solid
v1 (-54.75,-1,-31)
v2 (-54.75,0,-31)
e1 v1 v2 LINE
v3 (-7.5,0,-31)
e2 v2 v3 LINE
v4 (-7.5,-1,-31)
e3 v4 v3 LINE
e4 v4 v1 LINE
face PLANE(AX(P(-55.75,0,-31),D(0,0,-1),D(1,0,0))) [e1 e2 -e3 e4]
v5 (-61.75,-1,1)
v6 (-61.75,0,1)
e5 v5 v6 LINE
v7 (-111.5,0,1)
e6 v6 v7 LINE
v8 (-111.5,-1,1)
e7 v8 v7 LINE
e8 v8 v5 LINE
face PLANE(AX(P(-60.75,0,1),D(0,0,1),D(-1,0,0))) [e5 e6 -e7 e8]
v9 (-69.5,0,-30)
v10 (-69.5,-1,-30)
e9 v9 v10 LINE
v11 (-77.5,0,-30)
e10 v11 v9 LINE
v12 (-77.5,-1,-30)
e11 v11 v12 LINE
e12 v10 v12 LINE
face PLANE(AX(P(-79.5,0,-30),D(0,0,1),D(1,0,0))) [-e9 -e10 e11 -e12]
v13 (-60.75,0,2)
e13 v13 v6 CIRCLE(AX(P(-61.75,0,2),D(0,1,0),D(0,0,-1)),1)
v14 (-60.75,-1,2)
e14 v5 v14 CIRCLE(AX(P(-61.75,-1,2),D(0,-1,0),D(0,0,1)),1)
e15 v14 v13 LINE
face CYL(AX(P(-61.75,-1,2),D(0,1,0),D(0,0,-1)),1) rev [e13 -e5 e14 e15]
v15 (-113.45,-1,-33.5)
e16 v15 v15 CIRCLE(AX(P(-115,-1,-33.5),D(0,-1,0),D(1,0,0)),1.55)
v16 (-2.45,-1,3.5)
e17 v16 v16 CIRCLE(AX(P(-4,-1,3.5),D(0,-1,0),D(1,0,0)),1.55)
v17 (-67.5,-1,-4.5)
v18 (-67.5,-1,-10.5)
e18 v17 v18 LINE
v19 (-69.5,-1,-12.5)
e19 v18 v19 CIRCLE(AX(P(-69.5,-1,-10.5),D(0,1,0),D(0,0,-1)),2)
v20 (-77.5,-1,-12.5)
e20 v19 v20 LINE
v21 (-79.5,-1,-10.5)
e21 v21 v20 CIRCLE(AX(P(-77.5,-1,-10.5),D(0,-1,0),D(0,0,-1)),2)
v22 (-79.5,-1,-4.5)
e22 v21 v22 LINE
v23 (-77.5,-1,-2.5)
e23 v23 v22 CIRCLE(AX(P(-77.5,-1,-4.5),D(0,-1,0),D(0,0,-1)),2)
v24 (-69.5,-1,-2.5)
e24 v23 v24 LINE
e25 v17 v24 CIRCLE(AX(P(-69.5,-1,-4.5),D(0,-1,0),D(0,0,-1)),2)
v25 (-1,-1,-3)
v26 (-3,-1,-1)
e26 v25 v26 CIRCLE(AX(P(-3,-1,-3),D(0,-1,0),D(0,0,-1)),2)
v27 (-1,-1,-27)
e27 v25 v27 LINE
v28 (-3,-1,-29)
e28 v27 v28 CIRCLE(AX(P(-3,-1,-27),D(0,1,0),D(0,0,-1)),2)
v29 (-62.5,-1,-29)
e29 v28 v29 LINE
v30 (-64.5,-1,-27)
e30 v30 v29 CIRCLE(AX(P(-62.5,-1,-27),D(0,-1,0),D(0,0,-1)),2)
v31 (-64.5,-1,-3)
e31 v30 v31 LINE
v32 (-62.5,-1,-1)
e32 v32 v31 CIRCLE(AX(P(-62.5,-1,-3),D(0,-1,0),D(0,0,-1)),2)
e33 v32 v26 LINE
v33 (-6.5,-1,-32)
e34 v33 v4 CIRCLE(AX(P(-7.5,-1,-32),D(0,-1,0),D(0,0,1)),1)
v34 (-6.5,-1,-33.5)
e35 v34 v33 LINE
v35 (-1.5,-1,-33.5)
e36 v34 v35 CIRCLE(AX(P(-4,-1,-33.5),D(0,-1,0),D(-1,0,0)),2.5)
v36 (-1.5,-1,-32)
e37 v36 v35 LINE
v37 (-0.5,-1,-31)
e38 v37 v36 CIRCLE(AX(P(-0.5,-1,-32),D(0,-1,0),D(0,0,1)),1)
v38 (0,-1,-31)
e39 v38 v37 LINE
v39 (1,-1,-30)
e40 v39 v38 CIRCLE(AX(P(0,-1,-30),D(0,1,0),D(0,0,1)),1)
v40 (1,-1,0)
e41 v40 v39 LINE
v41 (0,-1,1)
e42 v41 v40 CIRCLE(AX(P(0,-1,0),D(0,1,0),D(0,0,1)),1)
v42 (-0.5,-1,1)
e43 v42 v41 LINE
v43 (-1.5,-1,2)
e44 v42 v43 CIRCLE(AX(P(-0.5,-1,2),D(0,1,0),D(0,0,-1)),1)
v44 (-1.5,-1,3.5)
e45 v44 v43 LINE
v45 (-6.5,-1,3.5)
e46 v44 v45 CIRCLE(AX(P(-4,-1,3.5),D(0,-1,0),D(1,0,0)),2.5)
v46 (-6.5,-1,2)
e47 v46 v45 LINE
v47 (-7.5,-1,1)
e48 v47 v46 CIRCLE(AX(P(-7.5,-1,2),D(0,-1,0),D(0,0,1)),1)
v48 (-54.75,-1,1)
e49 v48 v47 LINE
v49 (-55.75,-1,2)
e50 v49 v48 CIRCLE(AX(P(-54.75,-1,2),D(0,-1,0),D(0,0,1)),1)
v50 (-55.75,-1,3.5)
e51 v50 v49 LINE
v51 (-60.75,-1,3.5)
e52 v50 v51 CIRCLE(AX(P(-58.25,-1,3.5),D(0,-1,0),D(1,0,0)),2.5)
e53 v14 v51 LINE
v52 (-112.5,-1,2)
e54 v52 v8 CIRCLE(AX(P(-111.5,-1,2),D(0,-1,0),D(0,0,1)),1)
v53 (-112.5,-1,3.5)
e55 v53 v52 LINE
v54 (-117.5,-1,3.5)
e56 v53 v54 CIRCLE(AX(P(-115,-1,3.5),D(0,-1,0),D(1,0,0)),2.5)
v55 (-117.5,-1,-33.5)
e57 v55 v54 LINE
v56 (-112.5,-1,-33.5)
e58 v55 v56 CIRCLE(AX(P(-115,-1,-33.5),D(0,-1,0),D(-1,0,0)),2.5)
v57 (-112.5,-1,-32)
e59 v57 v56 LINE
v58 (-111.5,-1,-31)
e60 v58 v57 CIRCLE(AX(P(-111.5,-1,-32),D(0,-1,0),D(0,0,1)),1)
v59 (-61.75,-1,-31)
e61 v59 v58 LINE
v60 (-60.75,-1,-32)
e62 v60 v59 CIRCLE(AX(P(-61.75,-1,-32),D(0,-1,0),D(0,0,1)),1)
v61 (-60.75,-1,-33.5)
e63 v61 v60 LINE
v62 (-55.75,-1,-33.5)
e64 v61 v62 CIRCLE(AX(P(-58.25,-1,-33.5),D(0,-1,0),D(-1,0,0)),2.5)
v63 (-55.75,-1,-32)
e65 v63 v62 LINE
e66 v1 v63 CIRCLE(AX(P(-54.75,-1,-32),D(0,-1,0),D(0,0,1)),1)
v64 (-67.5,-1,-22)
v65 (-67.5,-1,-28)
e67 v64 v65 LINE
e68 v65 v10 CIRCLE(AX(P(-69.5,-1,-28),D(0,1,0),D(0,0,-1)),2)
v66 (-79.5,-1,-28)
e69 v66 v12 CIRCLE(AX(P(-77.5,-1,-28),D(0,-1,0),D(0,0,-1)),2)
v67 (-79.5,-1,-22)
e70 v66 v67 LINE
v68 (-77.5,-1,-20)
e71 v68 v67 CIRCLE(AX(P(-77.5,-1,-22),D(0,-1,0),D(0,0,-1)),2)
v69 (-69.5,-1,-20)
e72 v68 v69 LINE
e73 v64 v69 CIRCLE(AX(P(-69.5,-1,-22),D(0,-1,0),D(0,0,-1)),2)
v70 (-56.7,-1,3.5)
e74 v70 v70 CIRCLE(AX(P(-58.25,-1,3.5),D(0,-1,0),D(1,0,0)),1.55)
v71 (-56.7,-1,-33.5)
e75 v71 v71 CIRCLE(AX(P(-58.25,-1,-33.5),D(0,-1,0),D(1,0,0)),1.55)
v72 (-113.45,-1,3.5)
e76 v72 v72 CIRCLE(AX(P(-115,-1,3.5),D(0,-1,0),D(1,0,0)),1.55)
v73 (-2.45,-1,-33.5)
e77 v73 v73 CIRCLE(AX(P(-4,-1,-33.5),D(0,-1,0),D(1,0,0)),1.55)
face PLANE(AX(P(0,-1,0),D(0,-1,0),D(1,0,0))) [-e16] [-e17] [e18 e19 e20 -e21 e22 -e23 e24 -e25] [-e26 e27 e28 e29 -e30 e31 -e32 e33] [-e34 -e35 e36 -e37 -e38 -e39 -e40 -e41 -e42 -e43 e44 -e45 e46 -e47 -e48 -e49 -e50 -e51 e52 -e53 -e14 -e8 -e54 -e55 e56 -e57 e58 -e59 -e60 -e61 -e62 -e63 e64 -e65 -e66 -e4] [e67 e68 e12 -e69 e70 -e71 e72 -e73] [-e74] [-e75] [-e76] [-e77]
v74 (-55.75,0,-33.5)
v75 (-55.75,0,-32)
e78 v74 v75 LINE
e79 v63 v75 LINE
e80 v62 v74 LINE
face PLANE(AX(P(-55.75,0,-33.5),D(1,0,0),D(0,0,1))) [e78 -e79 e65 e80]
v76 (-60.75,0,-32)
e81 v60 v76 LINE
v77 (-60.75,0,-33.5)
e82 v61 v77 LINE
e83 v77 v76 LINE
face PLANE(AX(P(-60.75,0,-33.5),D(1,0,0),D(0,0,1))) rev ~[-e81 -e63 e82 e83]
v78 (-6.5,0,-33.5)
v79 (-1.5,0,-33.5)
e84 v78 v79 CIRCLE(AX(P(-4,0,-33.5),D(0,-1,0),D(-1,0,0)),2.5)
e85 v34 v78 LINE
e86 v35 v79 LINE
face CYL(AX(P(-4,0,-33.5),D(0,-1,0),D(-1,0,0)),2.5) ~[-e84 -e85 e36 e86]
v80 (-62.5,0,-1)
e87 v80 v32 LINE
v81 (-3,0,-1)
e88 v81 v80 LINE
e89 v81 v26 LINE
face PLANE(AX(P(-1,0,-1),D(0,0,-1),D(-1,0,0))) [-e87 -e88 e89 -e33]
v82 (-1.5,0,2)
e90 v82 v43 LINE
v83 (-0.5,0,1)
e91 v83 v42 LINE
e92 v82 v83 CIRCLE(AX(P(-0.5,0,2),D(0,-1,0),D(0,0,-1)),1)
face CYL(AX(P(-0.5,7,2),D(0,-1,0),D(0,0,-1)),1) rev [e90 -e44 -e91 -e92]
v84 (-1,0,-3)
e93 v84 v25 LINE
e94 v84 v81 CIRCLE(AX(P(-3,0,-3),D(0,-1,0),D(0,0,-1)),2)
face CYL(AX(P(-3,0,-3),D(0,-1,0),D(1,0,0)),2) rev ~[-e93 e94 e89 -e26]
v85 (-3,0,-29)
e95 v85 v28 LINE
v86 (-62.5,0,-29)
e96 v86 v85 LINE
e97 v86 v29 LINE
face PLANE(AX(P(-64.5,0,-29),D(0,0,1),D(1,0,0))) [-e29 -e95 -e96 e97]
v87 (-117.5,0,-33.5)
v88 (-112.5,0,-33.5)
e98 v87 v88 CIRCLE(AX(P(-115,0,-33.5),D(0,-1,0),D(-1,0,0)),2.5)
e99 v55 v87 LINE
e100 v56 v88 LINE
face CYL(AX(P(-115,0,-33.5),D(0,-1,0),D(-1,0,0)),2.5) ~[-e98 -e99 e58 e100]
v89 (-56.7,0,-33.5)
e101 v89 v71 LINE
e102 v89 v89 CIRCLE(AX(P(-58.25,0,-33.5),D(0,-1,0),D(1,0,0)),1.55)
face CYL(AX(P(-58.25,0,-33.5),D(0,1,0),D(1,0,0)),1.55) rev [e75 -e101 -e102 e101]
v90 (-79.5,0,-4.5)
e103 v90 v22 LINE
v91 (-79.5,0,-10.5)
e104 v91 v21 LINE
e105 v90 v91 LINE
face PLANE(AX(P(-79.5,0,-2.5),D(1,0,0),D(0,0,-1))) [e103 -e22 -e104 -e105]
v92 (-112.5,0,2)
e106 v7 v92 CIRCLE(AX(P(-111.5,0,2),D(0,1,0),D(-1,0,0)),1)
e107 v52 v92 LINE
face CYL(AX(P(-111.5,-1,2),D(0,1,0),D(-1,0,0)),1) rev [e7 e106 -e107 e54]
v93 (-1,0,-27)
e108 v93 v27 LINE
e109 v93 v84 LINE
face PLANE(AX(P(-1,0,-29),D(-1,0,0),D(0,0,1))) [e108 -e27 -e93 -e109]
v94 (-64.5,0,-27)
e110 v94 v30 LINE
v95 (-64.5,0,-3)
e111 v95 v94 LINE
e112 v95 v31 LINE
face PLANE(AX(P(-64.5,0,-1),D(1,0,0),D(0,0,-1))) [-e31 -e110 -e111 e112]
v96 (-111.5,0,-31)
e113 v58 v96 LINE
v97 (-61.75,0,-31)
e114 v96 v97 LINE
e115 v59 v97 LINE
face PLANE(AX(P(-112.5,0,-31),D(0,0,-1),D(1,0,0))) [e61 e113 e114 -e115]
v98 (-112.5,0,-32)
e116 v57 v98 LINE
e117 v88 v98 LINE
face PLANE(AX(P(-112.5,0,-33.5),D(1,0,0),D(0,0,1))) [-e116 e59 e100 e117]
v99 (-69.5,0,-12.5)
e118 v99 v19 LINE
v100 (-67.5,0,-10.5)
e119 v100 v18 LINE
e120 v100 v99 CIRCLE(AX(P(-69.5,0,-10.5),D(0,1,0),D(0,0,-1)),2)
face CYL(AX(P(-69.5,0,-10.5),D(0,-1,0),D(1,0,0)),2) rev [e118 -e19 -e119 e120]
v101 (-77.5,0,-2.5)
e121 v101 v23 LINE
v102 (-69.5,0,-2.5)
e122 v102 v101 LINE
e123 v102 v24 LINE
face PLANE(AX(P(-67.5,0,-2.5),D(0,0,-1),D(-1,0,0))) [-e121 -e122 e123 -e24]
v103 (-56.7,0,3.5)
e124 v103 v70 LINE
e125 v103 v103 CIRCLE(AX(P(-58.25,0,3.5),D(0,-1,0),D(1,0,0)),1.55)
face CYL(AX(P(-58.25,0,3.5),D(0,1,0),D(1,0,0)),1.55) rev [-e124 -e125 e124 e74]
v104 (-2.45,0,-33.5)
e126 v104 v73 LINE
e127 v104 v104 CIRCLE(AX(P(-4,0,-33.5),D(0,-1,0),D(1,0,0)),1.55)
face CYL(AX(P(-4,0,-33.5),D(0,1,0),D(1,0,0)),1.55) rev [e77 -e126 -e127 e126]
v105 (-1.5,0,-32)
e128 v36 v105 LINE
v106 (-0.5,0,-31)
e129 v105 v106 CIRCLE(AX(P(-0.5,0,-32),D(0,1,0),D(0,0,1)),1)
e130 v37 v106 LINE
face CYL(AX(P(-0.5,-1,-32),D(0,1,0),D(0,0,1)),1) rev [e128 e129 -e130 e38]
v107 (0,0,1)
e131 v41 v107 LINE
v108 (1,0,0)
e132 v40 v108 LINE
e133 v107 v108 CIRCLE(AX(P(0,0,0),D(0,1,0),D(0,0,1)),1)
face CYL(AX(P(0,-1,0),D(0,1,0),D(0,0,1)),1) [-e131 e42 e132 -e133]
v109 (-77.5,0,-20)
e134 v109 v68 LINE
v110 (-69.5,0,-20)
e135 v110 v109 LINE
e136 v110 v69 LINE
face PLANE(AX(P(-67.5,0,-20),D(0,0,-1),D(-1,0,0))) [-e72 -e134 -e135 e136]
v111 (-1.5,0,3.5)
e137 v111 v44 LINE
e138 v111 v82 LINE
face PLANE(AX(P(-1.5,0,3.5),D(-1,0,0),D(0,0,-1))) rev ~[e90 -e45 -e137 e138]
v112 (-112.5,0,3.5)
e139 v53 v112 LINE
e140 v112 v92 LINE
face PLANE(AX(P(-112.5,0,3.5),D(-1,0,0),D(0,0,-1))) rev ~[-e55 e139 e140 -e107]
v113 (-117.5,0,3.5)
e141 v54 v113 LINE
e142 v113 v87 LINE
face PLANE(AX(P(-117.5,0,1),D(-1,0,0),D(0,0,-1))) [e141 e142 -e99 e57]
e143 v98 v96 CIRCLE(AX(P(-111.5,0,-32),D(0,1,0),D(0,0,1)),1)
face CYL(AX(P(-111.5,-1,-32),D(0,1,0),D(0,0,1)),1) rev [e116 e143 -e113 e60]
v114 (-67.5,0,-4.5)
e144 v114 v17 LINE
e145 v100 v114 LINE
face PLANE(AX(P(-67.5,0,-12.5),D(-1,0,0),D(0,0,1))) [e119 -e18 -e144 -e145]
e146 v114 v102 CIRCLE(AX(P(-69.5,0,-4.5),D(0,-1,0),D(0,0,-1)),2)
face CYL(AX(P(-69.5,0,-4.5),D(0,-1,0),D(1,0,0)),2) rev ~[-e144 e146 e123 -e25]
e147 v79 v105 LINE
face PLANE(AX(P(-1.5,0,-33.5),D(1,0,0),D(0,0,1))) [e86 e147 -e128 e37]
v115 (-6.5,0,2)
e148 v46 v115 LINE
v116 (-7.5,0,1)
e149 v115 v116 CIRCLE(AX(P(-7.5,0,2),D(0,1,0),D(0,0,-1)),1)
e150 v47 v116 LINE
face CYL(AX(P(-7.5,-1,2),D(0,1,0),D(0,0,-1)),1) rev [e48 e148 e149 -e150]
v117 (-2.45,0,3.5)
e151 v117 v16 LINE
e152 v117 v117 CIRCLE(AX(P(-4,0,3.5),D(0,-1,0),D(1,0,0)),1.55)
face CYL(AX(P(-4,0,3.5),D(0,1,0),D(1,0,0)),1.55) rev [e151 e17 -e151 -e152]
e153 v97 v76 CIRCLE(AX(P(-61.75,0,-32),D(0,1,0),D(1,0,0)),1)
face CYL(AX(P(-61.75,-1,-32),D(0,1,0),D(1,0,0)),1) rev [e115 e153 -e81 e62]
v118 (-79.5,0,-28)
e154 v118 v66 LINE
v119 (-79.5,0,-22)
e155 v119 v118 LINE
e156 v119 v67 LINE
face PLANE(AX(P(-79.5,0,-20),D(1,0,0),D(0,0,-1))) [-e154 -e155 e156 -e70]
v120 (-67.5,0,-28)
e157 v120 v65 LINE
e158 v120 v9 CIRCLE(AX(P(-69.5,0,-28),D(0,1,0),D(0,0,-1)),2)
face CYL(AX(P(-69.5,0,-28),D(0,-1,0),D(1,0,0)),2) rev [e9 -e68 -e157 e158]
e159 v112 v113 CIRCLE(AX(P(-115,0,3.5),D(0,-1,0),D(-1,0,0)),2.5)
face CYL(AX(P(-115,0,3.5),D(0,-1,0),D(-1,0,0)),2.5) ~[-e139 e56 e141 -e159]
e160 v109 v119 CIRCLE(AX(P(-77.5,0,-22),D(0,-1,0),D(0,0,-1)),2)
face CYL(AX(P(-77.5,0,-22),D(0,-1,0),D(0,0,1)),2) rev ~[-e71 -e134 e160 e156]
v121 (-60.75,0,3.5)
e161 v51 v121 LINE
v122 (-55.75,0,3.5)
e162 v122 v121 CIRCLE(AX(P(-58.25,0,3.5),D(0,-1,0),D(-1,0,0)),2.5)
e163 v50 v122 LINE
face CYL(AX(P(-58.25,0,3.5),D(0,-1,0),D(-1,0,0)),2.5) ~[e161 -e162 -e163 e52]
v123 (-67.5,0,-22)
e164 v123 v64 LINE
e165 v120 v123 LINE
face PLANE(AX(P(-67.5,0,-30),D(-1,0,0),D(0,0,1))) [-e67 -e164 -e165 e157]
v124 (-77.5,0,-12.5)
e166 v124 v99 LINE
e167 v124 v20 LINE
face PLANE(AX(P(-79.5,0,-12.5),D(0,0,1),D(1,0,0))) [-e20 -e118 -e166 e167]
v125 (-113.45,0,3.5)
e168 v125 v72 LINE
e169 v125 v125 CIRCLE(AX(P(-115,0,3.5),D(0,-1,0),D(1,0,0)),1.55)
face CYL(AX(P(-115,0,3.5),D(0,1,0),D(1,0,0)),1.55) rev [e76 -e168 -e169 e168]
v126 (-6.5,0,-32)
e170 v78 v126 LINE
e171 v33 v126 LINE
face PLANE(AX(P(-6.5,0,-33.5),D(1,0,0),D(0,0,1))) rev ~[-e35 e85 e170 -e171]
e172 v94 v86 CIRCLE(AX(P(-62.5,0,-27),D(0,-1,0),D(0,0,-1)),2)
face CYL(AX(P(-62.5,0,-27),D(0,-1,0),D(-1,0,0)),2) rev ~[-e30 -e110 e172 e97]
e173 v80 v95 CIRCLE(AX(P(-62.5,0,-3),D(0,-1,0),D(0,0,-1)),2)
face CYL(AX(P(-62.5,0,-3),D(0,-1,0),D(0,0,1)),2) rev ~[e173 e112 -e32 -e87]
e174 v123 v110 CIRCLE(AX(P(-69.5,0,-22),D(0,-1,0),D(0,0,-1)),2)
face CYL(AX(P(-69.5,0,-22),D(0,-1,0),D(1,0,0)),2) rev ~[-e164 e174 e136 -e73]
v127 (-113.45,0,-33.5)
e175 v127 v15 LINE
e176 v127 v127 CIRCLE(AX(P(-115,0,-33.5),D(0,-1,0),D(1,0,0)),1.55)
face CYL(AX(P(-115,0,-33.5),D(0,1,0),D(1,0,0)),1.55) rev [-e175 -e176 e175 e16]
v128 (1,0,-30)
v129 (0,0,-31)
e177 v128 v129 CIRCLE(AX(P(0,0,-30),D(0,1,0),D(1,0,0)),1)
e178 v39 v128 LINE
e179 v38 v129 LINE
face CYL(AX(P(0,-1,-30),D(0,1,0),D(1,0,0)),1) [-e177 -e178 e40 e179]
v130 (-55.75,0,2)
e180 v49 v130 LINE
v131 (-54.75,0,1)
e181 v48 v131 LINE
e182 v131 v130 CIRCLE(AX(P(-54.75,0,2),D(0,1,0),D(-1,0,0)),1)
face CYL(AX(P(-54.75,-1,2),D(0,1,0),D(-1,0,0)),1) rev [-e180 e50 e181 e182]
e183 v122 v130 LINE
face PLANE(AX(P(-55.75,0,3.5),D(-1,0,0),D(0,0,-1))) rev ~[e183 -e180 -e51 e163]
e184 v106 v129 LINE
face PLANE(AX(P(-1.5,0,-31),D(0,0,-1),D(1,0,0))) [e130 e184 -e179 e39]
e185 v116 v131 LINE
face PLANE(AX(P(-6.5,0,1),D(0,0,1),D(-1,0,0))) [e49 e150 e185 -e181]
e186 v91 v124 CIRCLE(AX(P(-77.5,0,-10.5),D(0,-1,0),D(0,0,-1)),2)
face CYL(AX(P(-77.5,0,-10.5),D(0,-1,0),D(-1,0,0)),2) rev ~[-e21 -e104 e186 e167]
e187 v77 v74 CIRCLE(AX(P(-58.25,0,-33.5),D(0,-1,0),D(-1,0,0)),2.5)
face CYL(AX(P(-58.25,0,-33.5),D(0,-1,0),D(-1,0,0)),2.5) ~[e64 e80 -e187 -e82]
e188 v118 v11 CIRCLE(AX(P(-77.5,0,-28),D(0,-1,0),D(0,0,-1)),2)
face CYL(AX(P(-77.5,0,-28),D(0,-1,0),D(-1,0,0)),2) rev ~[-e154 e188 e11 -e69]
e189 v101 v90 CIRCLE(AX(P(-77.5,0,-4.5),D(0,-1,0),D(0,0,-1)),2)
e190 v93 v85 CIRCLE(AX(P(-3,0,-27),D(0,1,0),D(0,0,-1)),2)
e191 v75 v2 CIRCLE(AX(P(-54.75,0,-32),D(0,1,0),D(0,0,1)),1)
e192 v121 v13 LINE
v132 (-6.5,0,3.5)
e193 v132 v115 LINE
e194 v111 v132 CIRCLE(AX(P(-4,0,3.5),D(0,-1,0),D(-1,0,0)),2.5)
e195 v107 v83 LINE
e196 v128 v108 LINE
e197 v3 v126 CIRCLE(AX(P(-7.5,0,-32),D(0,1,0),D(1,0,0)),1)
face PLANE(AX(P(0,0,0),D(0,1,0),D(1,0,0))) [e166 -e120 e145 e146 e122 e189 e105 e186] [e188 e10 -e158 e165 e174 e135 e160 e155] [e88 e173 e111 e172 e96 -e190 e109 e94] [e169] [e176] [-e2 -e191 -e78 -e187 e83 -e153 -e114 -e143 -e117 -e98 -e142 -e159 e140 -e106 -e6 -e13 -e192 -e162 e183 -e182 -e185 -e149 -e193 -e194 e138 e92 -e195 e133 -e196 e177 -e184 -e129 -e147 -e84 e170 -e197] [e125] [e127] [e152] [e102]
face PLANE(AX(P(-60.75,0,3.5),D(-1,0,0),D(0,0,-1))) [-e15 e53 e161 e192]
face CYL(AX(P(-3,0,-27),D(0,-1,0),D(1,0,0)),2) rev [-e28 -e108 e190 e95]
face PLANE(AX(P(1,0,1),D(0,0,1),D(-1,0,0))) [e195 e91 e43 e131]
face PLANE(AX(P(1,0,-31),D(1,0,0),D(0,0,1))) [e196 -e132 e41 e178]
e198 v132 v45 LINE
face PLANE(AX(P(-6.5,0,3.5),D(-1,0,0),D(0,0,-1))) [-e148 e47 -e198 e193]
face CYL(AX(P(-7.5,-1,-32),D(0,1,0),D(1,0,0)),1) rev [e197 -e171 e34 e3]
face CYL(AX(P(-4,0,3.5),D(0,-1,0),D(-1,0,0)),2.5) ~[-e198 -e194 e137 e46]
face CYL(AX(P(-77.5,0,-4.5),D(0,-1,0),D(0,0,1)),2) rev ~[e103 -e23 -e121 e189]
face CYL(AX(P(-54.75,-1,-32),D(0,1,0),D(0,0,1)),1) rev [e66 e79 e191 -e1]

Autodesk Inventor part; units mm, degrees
ref_plane "YZ Plane" through (0, 0, 0) normal (1, 0, 0) x (0, 1, 0)
ref_plane "XZ Plane" through (0, 0, 0) normal (0, 1, 0) x (-1, 0, 0)
ref_plane "XY Plane" through (0, 0, 0) normal (0, 0, 1) x (1, 0, 0)
sketch "Sketch1" plane through (0, 0, 0) normal (0, 1, 0) x (-1, 0, 0)
  line L0 (0, 0) -> (37, 0) construction
  line L1 (37, 0) -> (37, -30) construction
  line L2 (37, -30) -> (0, -30) construction
  line L3 (0, -30) -> (0, 0) construction
  line L4 (75.5, -6) -> (38, -6) construction
  line L5 (38, -6) -> (38, -24) construction
  line L6 (38, -24) -> (75.5, -24) construction
  line L7 (75.5, -24) -> (75.5, -6) construction
  line L8 (94, 0) -> (76.5, 0) construction
  line L9 (76.5, 0) -> (76.5, -28) construction
  line L10 (76.5, -28) -> (94, -28) construction
  line L11 (94, -28) -> (94, 0) construction
  line L12 (-1, 1) -> (117.5, 1)
  line L13 (117.5, 1) -> (117.5, -31)
  line L14 (117.5, -31) -> (-1, -31)
  line L15 (-1, -31) -> (-1, 1)
  line L16 (0, 0) -> (94, 0)
  line L17 (94, 0) -> (94, -30)
  line L18 (94, -30) -> (0, -30)
  line L19 (0, -30) -> (0, 0)
  line L20 (38, -8) -> (37, -8)
  line L21 (37, -8) -> (37, -22)
  line L22 (37, -22) -> (38, -22)
  line L23 (38, -22) -> (38, -8)
  line L24 (73.5, -6) -> (40, -6)
  line L25 (40, -6) -> (40, -5)
  line L26 (40, -5) -> (73.5, -5)
  line L27 (73.5, -5) -> (73.5, -6)
  line L28 (73.5, -24) -> (40, -24)
  line L29 (40, -24) -> (40, -25)
  line L30 (40, -25) -> (73.5, -25)
  line L31 (73.5, -25) -> (73.5, -24)
  line L32 (76.5, -8) -> (75.5, -8)
  line L33 (75.5, -8) -> (75.5, -22)
  line L34 (75.5, -22) -> (76.5, -22)
  line L35 (76.5, -22) -> (76.5, -8)
  line L36 (115, -31) -> (115, -33.5) construction
  line L37 (58.25, -31) -> (58.25, -33.5) construction
  line L38 (4, -31) -> (4, -33.5) construction
  line L39 (115, 1) -> (115, 3.5) construction
  line L40 (58.25, 1) -> (58.25, 3.5) construction
  line L41 (4, 1) -> (4, 3.5) construction
  circle A0 centre (115, -33.5) radius 2.5
  circle A1 centre (58.25, -33.5) radius 2.5
  circle A2 centre (4, -33.5) radius 2.5
  circle A3 centre (4, 3.5) radius 2.5
  circle A4 centre (58.25, 3.5) radius 2.5
  circle A5 centre (115, 3.5) radius 2.5
  line L42 (117.5, 1) -> (117.5, 3.5)
  line L43 (112.5, 3.5) -> (112.5, 1)
  line L44 (60.75, 3.5) -> (60.75, 1)
  line L45 (55.75, 3.5) -> (55.75, 1)
  line L46 (6.5, 3.5) -> (6.5, 1)
  line L47 (1.5, 3.5) -> (1.5, 1)
  line L48 (1.5, -33.5) -> (1.5, -31)
  line L49 (6.5, -33.5) -> (6.5, -31)
  line L50 (55.75, -33.5) -> (55.75, -31)
  line L51 (60.75, -33.5) -> (60.75, -31)
  line L52 (117.5, -33.5) -> (117.5, -31)
  line L53 (112.5, -33.5) -> (112.5, -31)
  circle A6 centre (115, -33.5) radius 1.55
  circle A7 centre (58.25, -33.5) radius 1.55
  circle A8 centre (4, -33.5) radius 1.55
  circle A9 centre (4, 3.5) radius 1.55
  circle A10 centre (58.25, 3.5) radius 1.55
  circle A11 centre (115, 3.5) radius 1.55
  line L54 (57.75, -30) -> (58.75, -30)
  line L55 (58.75, -30) -> (58.75, -25)
  line L56 (58.75, -25) -> (57.75, -25)
  line L57 (57.75, -25) -> (57.75, -30)
  line L58 (57.75, -5) -> (58.75, -5)
  line L59 (58.75, -5) -> (58.75, 0)
  line L60 (58.75, 0) -> (57.75, 0)
  line L61 (57.75, 0) -> (57.75, -5)
  line L62 (40, -25) -> (41, -25)
  line L63 (41, -25) -> (41, -30)
  line L64 (41, -30) -> (40, -30)
  line L65 (40, -30) -> (40, -25)
  line L66 (40, -5) -> (41, -5)
  line L67 (41, -5) -> (41, 0)
  line L68 (41, 0) -> (40, 0)
  line L69 (40, 0) -> (40, -5)
  line L70 (73.5, -5) -> (72.5, -5)
  line L71 (72.5, -5) -> (72.5, 0)
  line L72 (72.5, 0) -> (73.5, 0)
  line L73 (73.5, 0) -> (73.5, -5)
  line L74 (73.5, -25) -> (72.5, -25)
  line L75 (72.5, -25) -> (72.5, -30)
  line L76 (72.5, -30) -> (73.5, -30)
  line L77 (73.5, -30) -> (73.5, -25)
  dimension "d0" = 37
  dimension "d1" = 30
  dimension "d2" = 18
  dimension "d3" = 37.5
  dimension "d4" = 1
  dimension "d5" = 6
  dimension "d6" = 17.5
  dimension "d7" = 28
  dimension "d8" = 1
  dimension "d9" = 1
  dimension "d10" = 1
  dimension "d11" = 1
  dimension "d12" = 117.5
  dimension "d13" = 2
  dimension "d14" = 2
  dimension "d15" = 1
  dimension "d16" = 1
  dimension "d17" = 2
  dimension "d18" = 2
  dimension "d19" = 2
  dimension "d20" = 2
  dimension "d21" = 2.5
  dimension "d22" = 2.5
  dimension "d23" = 5
  dimension "d24" = 2.5
  dimension "d25" = 2.5
  dimension "d26" = 2.5
  dimension "d27" = 2.5
  dimension "d28" = 5
  dimension "d29" = 5
  dimension "d30" = 2.5
  dimension "d31" = 3.1
  dimension "d32" = 3.1
  dimension "d33" = 3.1
  dimension "d34" = 3.1
  dimension "d35" = 3.1
  dimension "d36" = 3.1
  dimension "d44" = 1
  dimension "d45" = 1
  dimension "d46" = 0.5
  dimension "d47" = 0
  dimension "d48" = 1
  dimension "d49" = 1
  dimension "d50" = 1
  dimension "d51" = 1
extrude "Extrusion1" add sketch "Sketch1" along normal blind 7 contours L12 L13 L14 L15 | L47 A3 L12 | A3 L46 L12 | A3 | L14 A2 L48 | L14 L49 A2 | A2 | L45 A4 L12 | A4 L44 L12 | A4 | L14 A1 L50 | L14 L51 A1 | A1 | L43 A5 L12 | A5 L42 L12 | A5 | L14 A0 L53 | L14 L52 A0 | A0 | L16 L67 L26 L69 | L26 L27 L24 L25 | L65 L30 L63 L18 | L16 L59 L26 L61 | L29 L28 L31 L30 | L57 L30 L55 L18 | L16 L73 L26 L71 | L75 L30 L77 L18 | L23 L22 L21 L20 | L35 L34 L33 L32
sketch "Sketch2" plane through (0, 0, 0) normal (0, -1, 0) x (1, 0, 0)
  line L0 (-117.5, -33.5) -> (-117.5, 3.5) projected
  arc A0 (-117.5, -33.5) -> (-112.5, -33.5) centre (-115, -33.5) ccw projected
  line L1 (-112.5, -31) -> (-112.5, -33.5) projected
  line L2 (-60.75, -31) -> (-112.5, -31) projected
  line L3 (-60.75, -33.5) -> (-60.75, -31) projected
  arc A1 (-60.75, -33.5) -> (-55.75, -33.5) centre (-58.25, -33.5) ccw projected
  line L4 (-55.75, -31) -> (-55.75, -33.5) projected
  line L5 (-6.5, -31) -> (-55.75, -31) projected
  line L6 (-6.5, -33.5) -> (-6.5, -31) projected
  arc A2 (-6.5, -33.5) -> (-1.5, -33.5) centre (-4, -33.5) ccw projected
  line L7 (-1.5, -31) -> (-1.5, -33.5) projected
  line L8 (1, -31) -> (-1.5, -31) projected
  line L9 (1, 1) -> (1, -31) projected
  line L10 (-1.5, 1) -> (1, 1) projected
  line L11 (-1.5, 3.5) -> (-1.5, 1) projected
  arc A3 (-1.5, 3.5) -> (-6.5, 3.5) centre (-4, 3.5) ccw projected
  line L12 (-6.5, 1) -> (-6.5, 3.5) projected
  line L13 (-55.75, 1) -> (-6.5, 1) projected
  line L14 (-55.75, 3.5) -> (-55.75, 1) projected
  arc A4 (-55.75, 3.5) -> (-60.75, 3.5) centre (-58.25, 3.5) ccw projected
  line L15 (-60.75, 1) -> (-60.75, 3.5) projected
  line L16 (-112.5, 1) -> (-60.75, 1) projected
  line L17 (-112.5, 3.5) -> (-112.5, 1) projected
  arc A5 (-112.5, 3.5) -> (-117.5, 3.5) centre (-115, 3.5) ccw projected
  circle A6 centre (-58.25, 3.5) radius 1.55 projected
  circle A7 centre (-4, 3.5) radius 1.55 projected
  circle A8 centre (-4, -33.5) radius 1.55 projected
  circle A9 centre (-58.25, -33.5) radius 1.55 projected
  circle A10 centre (-115, 3.5) radius 1.55 projected
  circle A11 centre (-115, -33.5) radius 1.55 projected
  line L18 (-41, 0) -> (-57.75, 0) projected
  line L19 (0, -30) -> (0, 0) projected
  line L20 (-57.75, -30) -> (-41, -30) projected
  line L21 (-94, 0) -> (-94, -30) projected
  line L22 (-41, -5) -> (-41, 0) projected
  line L23 (-57.75, -5) -> (-41, -5) projected
  line L24 (-57.75, 0) -> (-57.75, -5) projected
  line L25 (-41, -30) -> (-41, -25) projected
  line L26 (-57.75, -25) -> (-57.75, -30) projected
  line L27 (-41, -25) -> (-57.75, -25) projected
  line L28 (-72.5, -25) -> (-72.5, -30) projected
  line L29 (-58.75, -25) -> (-72.5, -25) projected
  line L30 (-58.75, -30) -> (-58.75, -25) projected
  line L31 (-72.5, -30) -> (-58.75, -30) projected
  line L32 (-72.5, 0) -> (-72.5, -5) projected
  line L33 (-58.75, 0) -> (-72.5, 0) projected
  line L34 (-58.75, -5) -> (-58.75, 0) projected
  line L35 (-72.5, -5) -> (-58.75, -5) projected
  line L36 (-73.5, 0) -> (-94, 0) projected
  line L37 (-73.5, -6) -> (-73.5, 0) projected
  line L38 (-40, -6) -> (-73.5, -6) projected
  line L39 (-40, 0) -> (-40, -6) projected
  line L40 (0, 0) -> (-40, 0) projected
  line L41 (-40, -30) -> (0, -30) projected
  line L42 (-40, -24) -> (-40, -30) projected
  line L43 (-73.5, -24) -> (-40, -24) projected
  line L44 (-73.5, -30) -> (-73.5, -24) projected
  line L45 (-94, -30) -> (-73.5, -30) projected
extrude "Extrusion2" add sketch "Sketch2" along normal blind 1 contours L0 A5 L17 L16 L15 A4 L14 L13 L12 A3 L11 L10 L9 L8 L7 A2 L6 L5 L4 A1 L3 L2 L1 A0 | L22 L23 L24 L18 | L41 L42 L43 L44 L45 L21 L36 L37 L38 L39 L40 L19 | L26 L27 L25 L20 | L29 L30 L31 L28 | L33 L34 L35 L32
fillet "Fillet2" radius 1 32 edges at (-73.5, 3.5, -6) (-73.5, 3.5, -24) (-40, 3.5, -24) (1, 3, -31) (-1.5, 3, -31) (1, 3, 1) (-55.75, 3, -31) (-1.5, 3, 1) (-55.75, 3, 1) (-112.5, 3, 1) (-112.5, 3, -31) (-60.75, 3, -31) (-6.5, 3, -31) (-60.75, 3, 1) (-6.5, 3, 1) (-40, 3.5, -6) (-72.5, 3.5, 0) (-57.75, 3.5, 0) (-72.5, 3.5, -25) (-57.75, 3.5, -25) (-41, 3.5, -25) (-58.75, 3.5, -25) (-41, 3.5, 0) (-58.75, 3.5, 0) (-72.5, 3.5, -30) (-57.75, 3.5, -30) (-57.75, 3.5, -5) (-72.5, 3.5, -5) (-41, 3.5, -5) (-58.75, 3.5, -5) (-58.75, 3.5, -30) (-41, 3.5, -30)
sketch "Sketch5" plane through (0, 7, 0) normal (0, 1, 0) x (1, 0, 0)
  line L0 (-120.447, 38.9055) -> (3.6698, 38.9055)
  line L1 (3.6698, 38.9055) -> (3.6698, -10.7705)
  line L2 (3.6698, -10.7705) -> (-120.447, -10.7705)
  line L3 (-120.447, -10.7705) -> (-120.447, 38.9055)
  point P0 (0, 0)
extrude "Extrusion5" cut sketch "Sketch5" against normal blind 7
sketch "Sketch13" plane through (0, 0, 0) normal (0, 1, 0) x (1, 0, 0)
  line L0 (-64.5, 29) -> (-1, 29)
  line L1 (-1, 29) -> (-1, 1)
  line L2 (-1, 1) -> (-64.5, 1)
  line L3 (-64.5, 1) -> (-64.5, 29)
  line L4 (1, 30) -> (1, 0) projected
  line L5 (-54.75, 31) -> (-7.5, 31) projected
  line L6 (-7.5, -1) -> (-54.75, -1) projected
  line L7 (-117.5, -3.5) -> (-117.5, 33.5) projected
  line L8 (-79.5, 30) -> (-67.5, 30)
  line L9 (-67.5, 30) -> (-67.5, 20)
  line L10 (-67.5, 20) -> (-79.5, 20)
  line L11 (-79.5, 20) -> (-79.5, 30)
  line L12 (-79.5, 12.5) -> (-67.5, 12.5)
  line L13 (-67.5, 12.5) -> (-67.5, 2.5)
  line L14 (-67.5, 2.5) -> (-79.5, 2.5)
  line L15 (-79.5, 2.5) -> (-79.5, 12.5)
  line L16 (-111.5, 31) -> (-61.75, 31) projected
  line L17 (-61.75, -1) -> (-111.5, -1) projected
  line L18 (-76.1794, 28.5) -> (-69.1572, 28.5) construction
  line L19 (-69.1572, 28.5) -> (-69.1572, 21.5) construction
  line L20 (-69.1572, 21.5) -> (-76.1794, 21.5) construction
  line L21 (-76.1794, 21.5) -> (-76.1794, 28.5) construction
  point P0 (0, 0)
  point P1 (-79.5, 25)
  point P2 (-79.5, 7.5)
  point P3 (-67.5, 25)
  point P4 (-67.5, 7.5)
  dimension "d114" = 2
  dimension "d115" = 2
  dimension "d116" = 2
  dimension "d117" = 53
  dimension "d118" = 50
  dimension "d119" = 12
  dimension "d120" = 1
  dimension "d121" = 3.5
  dimension "d122" = 13.5
  dimension "d123" = 11
  dimension "d127" = 2.5
  dimension "d128" = 9.5
extrude "Extrusion15" cut sketch "Sketch13" against normal through all
fillet "Fillet4" radius 2 12 edges at (-64.5, -0.5, -29) (-79.5, -0.5, -30) (-79.5, -0.5, -12.5) (-1, -0.5, -29) (-1, -0.5, -1) (-67.5, -0.5, -2.5) (-67.5, -0.5, -20) (-64.5, -0.5, -1) (-79.5, -0.5, -2.5) (-79.5, -0.5, -20) (-67.5, -0.5, -30) (-67.5, -0.5, -12.5)
properties part number "frontpackCOVER1"
